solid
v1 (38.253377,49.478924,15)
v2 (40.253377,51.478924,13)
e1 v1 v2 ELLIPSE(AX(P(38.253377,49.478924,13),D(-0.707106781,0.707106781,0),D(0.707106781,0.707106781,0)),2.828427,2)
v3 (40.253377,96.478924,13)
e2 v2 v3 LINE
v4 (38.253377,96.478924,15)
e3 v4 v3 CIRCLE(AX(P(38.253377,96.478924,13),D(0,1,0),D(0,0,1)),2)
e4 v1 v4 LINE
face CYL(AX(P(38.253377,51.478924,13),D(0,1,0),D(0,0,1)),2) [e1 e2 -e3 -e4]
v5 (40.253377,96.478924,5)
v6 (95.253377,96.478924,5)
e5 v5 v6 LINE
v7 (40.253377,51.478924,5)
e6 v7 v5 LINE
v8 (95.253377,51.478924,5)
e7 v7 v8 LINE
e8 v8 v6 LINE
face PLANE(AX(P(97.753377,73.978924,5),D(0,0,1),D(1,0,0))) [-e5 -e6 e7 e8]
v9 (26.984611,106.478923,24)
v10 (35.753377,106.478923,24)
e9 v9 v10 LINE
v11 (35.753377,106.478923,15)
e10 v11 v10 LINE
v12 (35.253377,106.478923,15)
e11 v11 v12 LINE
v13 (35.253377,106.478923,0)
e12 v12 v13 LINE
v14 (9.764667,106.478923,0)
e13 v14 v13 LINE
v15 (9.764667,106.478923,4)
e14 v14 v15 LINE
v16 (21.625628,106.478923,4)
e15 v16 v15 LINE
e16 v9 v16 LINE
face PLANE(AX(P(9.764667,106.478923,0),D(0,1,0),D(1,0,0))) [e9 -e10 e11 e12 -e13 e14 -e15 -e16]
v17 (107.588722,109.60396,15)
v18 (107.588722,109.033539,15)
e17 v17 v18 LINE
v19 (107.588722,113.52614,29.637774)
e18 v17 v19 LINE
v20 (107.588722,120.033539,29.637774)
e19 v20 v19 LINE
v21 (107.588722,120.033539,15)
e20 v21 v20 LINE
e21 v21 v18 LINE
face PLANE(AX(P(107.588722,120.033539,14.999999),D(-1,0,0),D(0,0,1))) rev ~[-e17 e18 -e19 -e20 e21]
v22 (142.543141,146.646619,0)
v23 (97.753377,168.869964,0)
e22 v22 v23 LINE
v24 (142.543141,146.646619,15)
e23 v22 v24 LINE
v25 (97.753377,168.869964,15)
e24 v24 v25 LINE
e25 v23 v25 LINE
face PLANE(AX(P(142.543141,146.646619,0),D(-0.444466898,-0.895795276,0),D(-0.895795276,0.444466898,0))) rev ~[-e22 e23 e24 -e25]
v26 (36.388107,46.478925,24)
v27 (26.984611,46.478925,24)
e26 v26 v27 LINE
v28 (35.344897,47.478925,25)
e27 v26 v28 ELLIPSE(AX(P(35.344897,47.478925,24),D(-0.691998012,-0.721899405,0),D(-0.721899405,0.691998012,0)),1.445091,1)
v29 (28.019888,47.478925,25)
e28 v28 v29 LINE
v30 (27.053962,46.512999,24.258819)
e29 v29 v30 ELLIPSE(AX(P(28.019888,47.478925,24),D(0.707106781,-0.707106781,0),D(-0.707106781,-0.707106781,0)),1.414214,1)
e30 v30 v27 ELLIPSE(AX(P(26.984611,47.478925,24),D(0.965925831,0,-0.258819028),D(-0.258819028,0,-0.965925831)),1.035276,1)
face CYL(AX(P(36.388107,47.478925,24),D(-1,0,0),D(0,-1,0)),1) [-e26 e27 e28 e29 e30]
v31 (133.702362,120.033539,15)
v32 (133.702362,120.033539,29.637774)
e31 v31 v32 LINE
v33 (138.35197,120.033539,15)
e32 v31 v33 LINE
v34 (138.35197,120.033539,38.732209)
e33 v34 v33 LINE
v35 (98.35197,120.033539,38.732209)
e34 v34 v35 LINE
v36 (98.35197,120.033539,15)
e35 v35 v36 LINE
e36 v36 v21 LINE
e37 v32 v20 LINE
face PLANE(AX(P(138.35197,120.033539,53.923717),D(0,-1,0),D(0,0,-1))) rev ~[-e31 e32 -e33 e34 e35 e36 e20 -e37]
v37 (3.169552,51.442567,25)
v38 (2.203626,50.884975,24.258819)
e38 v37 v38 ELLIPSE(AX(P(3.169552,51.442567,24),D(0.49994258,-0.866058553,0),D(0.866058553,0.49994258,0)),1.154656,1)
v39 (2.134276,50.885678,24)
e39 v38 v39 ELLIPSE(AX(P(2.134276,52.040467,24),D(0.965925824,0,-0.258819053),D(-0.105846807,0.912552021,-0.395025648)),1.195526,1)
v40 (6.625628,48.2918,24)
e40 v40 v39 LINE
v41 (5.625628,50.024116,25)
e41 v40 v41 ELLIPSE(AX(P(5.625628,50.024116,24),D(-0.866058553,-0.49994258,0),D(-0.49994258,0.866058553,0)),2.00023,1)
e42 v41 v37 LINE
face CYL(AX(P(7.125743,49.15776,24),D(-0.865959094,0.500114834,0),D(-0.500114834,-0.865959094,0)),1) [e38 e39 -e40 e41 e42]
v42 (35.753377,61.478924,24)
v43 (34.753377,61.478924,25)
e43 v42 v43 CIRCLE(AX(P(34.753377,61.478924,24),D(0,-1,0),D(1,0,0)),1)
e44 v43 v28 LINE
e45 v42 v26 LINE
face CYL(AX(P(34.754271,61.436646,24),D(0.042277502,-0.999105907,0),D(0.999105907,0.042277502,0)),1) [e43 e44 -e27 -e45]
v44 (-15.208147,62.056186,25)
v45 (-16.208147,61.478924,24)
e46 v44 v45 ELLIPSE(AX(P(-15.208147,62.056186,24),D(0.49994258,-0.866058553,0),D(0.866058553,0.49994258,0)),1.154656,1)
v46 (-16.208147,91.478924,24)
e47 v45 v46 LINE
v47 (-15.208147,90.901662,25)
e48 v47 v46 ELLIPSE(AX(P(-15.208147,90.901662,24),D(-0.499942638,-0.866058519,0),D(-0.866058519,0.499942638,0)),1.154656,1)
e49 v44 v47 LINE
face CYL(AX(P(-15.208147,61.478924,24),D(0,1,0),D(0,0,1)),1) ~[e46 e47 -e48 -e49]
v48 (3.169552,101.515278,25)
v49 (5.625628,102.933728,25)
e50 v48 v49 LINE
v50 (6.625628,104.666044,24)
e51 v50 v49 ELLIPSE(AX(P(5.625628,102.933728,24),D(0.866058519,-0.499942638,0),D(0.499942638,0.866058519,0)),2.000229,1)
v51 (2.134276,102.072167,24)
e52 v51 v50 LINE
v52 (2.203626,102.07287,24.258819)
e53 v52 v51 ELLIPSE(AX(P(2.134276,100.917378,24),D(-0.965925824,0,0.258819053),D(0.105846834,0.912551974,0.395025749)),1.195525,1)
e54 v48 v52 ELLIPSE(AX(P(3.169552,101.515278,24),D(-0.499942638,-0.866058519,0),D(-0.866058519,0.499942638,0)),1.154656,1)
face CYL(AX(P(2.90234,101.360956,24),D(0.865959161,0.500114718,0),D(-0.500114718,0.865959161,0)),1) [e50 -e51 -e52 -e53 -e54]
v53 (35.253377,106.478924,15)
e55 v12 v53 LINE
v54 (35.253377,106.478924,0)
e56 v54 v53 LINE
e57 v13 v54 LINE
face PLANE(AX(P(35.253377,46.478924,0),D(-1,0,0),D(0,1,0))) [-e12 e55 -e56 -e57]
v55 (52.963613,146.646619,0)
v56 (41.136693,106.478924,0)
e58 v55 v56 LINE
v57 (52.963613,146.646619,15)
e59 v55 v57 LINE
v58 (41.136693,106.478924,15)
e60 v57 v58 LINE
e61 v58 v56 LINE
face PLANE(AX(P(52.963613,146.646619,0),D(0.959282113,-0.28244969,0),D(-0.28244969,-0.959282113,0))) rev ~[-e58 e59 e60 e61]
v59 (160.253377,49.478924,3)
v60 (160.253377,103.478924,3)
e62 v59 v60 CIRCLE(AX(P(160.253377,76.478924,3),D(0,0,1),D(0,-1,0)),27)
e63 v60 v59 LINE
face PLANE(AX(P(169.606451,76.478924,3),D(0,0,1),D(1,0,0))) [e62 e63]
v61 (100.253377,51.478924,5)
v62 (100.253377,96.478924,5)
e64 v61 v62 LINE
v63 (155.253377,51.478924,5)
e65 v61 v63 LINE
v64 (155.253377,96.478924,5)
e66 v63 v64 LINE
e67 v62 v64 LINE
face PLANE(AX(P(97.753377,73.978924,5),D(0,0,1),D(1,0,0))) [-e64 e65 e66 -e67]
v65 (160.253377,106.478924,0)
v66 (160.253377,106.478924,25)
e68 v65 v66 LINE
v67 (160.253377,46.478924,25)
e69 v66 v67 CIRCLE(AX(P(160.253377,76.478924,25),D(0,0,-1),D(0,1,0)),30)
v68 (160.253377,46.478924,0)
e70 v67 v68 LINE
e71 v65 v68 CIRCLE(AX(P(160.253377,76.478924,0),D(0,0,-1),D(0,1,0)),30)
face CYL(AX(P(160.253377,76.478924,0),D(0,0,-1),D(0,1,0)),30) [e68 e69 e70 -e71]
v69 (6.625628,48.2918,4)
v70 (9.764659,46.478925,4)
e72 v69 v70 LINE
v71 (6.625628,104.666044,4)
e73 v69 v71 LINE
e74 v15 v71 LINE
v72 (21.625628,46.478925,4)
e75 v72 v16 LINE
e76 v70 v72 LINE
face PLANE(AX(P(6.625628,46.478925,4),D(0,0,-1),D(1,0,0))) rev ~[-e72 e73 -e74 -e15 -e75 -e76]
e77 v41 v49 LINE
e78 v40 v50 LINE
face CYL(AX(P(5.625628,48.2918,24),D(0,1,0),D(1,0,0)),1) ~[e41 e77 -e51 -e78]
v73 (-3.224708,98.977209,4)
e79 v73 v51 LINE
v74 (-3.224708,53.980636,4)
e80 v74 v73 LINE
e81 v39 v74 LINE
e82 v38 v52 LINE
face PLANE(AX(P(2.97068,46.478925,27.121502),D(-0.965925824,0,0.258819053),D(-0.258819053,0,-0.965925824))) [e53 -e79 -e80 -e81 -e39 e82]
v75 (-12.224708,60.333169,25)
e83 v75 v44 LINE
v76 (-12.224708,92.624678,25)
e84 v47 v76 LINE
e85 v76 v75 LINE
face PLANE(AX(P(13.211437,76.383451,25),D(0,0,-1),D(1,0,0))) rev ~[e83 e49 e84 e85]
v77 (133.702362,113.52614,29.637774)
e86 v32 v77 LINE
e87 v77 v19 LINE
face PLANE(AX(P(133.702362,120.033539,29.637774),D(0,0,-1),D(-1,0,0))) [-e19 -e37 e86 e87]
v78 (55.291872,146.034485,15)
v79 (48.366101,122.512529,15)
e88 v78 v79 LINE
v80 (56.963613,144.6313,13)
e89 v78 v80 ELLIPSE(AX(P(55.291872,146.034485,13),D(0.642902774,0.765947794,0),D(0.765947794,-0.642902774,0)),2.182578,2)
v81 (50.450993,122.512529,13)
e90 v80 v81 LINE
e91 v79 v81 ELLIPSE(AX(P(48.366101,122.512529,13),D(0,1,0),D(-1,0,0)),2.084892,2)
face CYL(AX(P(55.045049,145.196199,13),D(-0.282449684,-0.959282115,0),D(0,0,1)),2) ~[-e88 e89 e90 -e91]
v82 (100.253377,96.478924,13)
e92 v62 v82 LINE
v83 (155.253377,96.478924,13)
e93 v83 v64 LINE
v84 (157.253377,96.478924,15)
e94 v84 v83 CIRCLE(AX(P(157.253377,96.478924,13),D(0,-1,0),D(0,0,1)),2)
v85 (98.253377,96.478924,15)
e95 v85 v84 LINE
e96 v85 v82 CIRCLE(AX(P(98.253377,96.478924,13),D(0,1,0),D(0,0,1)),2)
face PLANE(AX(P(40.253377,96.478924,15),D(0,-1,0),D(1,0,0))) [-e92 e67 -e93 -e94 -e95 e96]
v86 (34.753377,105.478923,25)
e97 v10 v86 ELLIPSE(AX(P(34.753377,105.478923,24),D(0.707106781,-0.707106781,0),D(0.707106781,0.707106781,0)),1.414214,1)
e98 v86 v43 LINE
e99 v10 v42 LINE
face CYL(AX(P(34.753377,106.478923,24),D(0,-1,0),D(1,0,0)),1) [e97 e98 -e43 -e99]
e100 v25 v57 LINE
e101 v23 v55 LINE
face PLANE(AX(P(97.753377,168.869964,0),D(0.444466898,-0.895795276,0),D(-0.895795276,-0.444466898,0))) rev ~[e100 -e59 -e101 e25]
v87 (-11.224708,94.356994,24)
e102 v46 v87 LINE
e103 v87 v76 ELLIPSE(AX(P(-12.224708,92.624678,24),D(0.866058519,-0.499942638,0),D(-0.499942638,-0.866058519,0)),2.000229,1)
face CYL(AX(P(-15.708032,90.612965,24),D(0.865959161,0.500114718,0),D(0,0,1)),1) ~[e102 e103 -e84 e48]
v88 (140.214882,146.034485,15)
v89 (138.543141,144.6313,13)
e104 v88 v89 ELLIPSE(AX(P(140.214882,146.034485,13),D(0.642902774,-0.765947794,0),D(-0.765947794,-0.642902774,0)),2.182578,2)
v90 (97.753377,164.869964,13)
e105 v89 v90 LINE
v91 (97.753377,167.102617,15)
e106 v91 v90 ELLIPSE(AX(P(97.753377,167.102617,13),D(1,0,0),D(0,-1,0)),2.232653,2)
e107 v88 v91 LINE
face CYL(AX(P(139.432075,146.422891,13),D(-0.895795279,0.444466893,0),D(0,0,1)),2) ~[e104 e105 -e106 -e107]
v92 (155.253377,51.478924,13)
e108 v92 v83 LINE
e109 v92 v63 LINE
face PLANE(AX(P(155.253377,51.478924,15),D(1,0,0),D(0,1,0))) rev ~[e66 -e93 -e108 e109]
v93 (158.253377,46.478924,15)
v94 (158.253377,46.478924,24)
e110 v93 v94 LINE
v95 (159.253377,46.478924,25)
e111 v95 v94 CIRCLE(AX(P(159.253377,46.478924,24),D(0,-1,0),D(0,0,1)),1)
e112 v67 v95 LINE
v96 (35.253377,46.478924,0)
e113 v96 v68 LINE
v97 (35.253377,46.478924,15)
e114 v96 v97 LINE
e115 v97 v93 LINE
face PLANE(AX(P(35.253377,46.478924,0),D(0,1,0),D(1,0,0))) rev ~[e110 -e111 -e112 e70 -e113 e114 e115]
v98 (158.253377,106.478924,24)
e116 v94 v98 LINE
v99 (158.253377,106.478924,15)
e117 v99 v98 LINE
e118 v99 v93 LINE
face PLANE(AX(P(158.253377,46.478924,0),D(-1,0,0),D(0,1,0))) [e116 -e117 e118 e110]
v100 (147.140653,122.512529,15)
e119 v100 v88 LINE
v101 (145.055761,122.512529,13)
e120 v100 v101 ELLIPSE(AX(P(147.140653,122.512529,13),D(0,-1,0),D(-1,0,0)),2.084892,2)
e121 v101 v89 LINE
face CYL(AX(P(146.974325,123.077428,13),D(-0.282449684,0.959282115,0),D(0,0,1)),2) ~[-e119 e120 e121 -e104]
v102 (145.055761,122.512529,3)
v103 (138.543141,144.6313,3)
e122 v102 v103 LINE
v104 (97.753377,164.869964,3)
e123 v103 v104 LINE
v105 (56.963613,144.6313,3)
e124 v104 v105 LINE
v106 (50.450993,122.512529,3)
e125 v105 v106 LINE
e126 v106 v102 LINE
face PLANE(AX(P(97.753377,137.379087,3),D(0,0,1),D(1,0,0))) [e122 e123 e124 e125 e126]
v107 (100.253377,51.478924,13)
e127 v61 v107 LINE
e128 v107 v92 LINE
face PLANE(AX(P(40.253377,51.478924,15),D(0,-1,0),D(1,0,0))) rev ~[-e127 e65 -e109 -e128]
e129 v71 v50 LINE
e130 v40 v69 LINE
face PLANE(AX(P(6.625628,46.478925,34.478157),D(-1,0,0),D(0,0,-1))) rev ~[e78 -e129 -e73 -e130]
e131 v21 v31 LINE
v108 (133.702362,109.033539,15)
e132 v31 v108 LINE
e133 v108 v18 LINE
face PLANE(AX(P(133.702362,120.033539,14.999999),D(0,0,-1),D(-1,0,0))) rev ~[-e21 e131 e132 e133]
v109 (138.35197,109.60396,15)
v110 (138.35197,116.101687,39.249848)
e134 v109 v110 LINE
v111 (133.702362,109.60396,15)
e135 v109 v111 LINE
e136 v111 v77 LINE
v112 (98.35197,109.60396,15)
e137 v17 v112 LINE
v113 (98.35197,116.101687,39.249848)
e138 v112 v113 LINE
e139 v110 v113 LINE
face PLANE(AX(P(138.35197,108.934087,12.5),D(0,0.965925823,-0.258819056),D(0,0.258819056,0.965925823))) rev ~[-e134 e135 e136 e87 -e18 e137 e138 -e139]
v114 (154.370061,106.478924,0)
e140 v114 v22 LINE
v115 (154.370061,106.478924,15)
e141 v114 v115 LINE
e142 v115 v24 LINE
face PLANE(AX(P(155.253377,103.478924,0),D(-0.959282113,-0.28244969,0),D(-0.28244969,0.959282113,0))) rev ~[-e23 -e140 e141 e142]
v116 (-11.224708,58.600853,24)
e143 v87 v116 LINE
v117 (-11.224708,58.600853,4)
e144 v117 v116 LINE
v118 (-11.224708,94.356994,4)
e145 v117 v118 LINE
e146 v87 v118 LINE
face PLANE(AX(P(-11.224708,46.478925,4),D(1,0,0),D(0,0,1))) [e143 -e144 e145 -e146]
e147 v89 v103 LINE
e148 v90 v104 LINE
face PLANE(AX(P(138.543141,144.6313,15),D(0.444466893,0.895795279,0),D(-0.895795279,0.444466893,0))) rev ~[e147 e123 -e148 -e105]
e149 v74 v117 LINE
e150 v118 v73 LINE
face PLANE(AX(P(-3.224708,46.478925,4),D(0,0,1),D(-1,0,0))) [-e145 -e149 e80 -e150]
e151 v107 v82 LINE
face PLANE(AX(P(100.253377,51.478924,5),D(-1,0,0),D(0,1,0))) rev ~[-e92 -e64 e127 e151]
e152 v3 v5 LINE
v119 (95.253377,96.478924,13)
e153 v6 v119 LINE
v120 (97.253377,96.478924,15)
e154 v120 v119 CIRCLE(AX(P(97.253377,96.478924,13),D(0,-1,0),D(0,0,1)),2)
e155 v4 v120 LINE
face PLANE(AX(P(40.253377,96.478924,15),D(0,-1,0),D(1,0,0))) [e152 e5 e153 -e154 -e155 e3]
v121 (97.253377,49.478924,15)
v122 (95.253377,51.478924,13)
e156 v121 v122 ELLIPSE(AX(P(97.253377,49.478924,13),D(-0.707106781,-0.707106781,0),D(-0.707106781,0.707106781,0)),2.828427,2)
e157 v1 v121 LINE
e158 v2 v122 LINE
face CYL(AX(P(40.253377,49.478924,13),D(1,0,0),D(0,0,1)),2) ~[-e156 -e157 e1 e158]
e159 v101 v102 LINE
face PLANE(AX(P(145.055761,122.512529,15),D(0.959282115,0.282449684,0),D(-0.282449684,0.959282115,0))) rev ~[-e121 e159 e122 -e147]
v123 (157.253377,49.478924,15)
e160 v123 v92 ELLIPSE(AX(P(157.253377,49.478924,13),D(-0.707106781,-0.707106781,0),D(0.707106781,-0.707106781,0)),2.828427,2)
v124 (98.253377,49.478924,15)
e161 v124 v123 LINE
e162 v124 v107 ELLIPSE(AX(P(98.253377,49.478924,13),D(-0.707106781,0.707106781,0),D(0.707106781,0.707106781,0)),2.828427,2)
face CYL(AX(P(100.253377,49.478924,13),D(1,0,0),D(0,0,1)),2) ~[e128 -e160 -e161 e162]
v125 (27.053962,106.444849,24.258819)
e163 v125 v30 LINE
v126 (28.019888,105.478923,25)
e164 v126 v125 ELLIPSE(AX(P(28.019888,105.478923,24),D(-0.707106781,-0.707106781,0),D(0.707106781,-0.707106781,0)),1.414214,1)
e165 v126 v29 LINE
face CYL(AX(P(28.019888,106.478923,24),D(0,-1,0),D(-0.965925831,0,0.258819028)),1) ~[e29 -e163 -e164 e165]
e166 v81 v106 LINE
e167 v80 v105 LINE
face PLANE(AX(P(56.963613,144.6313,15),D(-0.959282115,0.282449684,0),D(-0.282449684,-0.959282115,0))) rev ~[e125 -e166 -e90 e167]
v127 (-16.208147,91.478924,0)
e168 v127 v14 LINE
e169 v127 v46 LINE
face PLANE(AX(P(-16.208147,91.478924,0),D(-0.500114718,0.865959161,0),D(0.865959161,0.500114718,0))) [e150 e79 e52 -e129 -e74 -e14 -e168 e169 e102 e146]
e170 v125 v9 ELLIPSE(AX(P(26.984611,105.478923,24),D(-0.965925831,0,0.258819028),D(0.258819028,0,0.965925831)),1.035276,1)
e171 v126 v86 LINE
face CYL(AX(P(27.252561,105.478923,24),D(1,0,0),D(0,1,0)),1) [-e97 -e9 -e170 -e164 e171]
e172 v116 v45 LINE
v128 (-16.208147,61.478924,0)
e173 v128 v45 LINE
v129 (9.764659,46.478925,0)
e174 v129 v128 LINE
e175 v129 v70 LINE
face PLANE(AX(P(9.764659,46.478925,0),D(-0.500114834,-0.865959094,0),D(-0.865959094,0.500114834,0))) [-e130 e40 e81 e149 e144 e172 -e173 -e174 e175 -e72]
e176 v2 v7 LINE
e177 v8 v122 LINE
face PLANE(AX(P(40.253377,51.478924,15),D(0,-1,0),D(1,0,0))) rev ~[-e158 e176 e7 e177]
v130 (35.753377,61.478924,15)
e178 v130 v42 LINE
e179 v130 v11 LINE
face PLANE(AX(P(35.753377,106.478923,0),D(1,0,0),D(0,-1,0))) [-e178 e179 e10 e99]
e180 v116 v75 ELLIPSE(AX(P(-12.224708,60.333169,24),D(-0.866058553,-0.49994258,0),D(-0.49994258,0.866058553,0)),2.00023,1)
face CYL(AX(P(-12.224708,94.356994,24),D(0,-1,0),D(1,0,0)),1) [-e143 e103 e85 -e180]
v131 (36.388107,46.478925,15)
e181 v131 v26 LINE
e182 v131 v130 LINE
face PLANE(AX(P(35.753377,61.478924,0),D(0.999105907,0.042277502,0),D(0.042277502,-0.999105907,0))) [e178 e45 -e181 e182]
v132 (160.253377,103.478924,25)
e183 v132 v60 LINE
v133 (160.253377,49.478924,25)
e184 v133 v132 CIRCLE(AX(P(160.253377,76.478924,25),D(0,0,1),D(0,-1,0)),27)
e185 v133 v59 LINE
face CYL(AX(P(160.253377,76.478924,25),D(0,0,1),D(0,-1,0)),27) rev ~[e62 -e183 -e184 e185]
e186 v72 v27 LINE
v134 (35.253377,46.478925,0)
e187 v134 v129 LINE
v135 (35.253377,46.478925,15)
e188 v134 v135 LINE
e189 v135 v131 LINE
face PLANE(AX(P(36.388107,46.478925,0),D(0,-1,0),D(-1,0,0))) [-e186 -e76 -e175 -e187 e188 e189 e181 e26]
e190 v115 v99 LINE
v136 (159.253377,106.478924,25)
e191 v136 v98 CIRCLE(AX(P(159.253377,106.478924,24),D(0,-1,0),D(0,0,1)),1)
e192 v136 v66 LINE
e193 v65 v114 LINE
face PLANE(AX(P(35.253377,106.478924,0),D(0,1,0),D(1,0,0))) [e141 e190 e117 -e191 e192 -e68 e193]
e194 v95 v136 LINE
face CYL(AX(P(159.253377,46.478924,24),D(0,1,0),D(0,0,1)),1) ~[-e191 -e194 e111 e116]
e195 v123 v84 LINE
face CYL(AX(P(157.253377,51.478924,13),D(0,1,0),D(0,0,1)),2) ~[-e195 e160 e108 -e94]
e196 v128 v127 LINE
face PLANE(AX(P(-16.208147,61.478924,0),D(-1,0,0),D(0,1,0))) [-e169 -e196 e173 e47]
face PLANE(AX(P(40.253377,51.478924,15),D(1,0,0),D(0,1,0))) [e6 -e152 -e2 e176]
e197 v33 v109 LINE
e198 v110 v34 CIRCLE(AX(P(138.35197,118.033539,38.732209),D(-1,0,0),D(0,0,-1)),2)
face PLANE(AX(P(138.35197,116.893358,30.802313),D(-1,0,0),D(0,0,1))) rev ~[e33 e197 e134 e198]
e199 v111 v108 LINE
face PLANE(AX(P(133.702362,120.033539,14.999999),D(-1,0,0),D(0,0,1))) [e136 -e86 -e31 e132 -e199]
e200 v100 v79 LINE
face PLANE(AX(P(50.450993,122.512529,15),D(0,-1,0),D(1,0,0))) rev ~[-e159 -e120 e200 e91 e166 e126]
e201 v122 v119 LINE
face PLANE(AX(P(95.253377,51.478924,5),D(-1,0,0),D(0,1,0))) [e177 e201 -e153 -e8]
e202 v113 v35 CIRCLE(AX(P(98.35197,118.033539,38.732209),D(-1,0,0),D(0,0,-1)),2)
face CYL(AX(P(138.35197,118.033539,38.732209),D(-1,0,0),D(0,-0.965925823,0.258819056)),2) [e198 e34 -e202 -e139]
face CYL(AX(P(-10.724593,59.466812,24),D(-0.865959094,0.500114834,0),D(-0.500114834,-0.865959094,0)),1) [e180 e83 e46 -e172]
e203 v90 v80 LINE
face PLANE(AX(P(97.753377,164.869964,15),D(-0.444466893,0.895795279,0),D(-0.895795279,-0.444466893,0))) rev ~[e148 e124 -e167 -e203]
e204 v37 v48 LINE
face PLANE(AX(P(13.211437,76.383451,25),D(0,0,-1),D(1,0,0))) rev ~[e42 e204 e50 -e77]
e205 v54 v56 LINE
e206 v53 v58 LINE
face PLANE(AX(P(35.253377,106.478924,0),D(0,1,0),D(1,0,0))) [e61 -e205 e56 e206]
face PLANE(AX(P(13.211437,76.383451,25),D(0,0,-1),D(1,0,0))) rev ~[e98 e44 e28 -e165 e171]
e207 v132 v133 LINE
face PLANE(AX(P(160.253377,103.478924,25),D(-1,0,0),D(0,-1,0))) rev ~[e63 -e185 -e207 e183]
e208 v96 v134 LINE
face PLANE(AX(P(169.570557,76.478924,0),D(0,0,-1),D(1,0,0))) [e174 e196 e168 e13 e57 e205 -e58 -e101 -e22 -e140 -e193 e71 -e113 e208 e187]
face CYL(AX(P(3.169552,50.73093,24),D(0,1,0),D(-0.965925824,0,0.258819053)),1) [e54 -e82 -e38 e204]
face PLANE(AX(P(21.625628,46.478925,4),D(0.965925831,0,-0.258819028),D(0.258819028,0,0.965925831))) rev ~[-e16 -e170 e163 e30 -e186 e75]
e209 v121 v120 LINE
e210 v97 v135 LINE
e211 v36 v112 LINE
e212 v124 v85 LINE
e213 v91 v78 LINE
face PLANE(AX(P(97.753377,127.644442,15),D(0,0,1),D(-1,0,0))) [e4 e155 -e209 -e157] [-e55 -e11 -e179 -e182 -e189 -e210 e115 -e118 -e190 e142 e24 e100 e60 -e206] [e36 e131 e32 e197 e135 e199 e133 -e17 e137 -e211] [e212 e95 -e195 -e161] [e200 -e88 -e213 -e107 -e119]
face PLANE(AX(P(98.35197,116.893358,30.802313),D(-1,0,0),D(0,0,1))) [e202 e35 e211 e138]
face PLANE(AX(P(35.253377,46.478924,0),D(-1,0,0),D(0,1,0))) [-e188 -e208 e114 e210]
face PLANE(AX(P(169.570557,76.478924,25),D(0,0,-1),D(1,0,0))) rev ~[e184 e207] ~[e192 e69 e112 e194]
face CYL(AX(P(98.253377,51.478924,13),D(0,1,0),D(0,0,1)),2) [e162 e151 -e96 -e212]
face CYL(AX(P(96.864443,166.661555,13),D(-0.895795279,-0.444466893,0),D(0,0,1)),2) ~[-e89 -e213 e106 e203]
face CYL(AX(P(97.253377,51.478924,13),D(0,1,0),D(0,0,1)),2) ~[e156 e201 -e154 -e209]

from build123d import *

# Parameters (mm, degrees)
SKETCH008_W     = 125
SKETCH008_H     = 60
PAD007_DEPTH    = 15
SKETCH009_W     = 115
SKETCH009_H     = 45
POCKET001_DEPTH = 10
SKETCH010_W     = 5
SKETCH010_H     = 45
PAD008_DEPTH    = 10
PAD009_DEPTH    = 15
PAD010_DEPTH    = 25
POCKET002_DEPTH = 122.392039
POCKET003_DEPTH = 62
PAD011_DEPTH    = 25
POCKET004_DEPTH = 22
FILLET006_R     = 1
FILLET007_R     = 1
FILLET008_R     = 1
FILLET009_R     = 1
FILLET010_R     = 2
PAD012_DEPTH    = 40
SKETCH019_W     = 26.11364
SKETCH019_H     = 14.637775
POCKET005_DEPTH = 11
POCKET006_DEPTH = 12
FILLET011_R     = 2
FILLET012_R     = 2


with BuildPart() as part:
    # Sketch008 → Pad007 (new body)
    with BuildSketch(Plane.XY):
        with Locations((97.753377, 76.478924)):
            Rectangle(SKETCH008_W, SKETCH008_H)
    extrude(amount=PAD007_DEPTH)

    # Sketch009 (on Face6 of Pad007) → Pocket001 (cut)
    with BuildSketch(Plane.XY.offset(15)):
        with Locations((97.753377, 73.978924)):
            Rectangle(SKETCH009_W, SKETCH009_H)
    extrude(amount=-POCKET001_DEPTH, mode=Mode.SUBTRACT)

    # Sketch010 (on Face11 of Pocket001) → Pad008 (join)
    with BuildSketch(Plane.XY.offset(5)):
        with Locations((97.753377, 73.978924)):
            Rectangle(SKETCH010_W, SKETCH010_H)
    extrude(amount=PAD008_DEPTH)

    # Sketch011 (on Face4 of Pad008) → Pad009 (join)
    with BuildSketch(Plane(origin=(0, 0, 0), x_dir=(1, 0, 0), z_dir=(0, 0, -1))):
        Polygon((40.253377, -103.478924), (155.253377, -103.478924), (142.543141, -146.646619), (97.753377, -168.869964), (52.963613, -146.646619), align=None)
    extrude(amount=-PAD009_DEPTH)

    # Sketch012 (on Face10 of Pad009) → Pad010 (join)
    with BuildSketch(Plane(origin=(0, 0, 0), x_dir=(1, 0, 0), z_dir=(0, 0, -1))):
        Polygon((35.753377, -91.478924), (35.753377, -61.478924), (36.388107, -46.478925), (9.764659, -46.478925), (-16.208147, -61.478924), (-16.208147, -91.478924), (9.764667, -106.478923), (35.753377, -106.478923), align=None)
    extrude(amount=-PAD010_DEPTH)

    # Sketch014 (on Face12 of Pad010) → Pocket002 (cut, through all)
    with BuildSketch(Plane.XZ.offset(-46.478925)):
        Polygon((21.625628, 4), (31.014697, 39.040485), (16.014696, 39.040485), (6.625628, 34.478157), (6.625628, 4), align=None)
    extrude(amount=-POCKET002_DEPTH, mode=Mode.SUBTRACT)

    # Sketch015 (on Face8 of Pocket002) → Pocket003 (cut)
    with BuildSketch(Plane.XZ.offset(-46.478925)):
        Polygon((2.97068, 27.121502), (-3.224708, 4), (-11.224708, 4), (-11.224708, 27.121502), align=None)
    extrude(amount=-POCKET003_DEPTH, mode=Mode.SUBTRACT)

    # Sketch016 (on Face2 of Pocket003) → Pad011 (join)
    with BuildSketch(Plane(origin=(0, 0, 0), x_dir=(1, 0, 0), z_dir=(0, 0, -1))):
        with BuildLine():
            ThreePointArc((160.253377, -106.478924), (190.253377, -76.478924), (160.253377, -46.478924))
            Line((160.253377, -46.478924), (158.253377, -46.478924))
            Line((158.253377, -46.478924), (158.253377, -106.478924))
            Line((158.253377, -106.478924), (160.253377, -106.478924))
        make_face()
    extrude(amount=-PAD011_DEPTH)

    # Sketch017 (on Face34 of Pad011) → Pocket004 (cut)
    with BuildSketch(Plane.XY.offset(25)):
        with BuildLine():
            ThreePointArc((160.253377, 49.478924), (187.253377, 76.478924), (160.253377, 103.478924))
            Line((160.253377, 103.478924), (160.253377, 49.478924))
        make_face()
    extrude(amount=-POCKET004_DEPTH, mode=Mode.SUBTRACT)

    # Fillet006
    fillet006_edges = [part.edges().sort_by_distance(p)[0] for p in [
        (158.253377, 76.478924, 25),
    ]]
    fillet(fillet006_edges, radius=FILLET006_R)

    # Fillet007
    fillet007_edges = [part.edges().sort_by_distance(p)[0] for p in [
        (31.502969, 106.478923, 25),
        (27.252561, 76.478924, 25),
        (31.820334, 46.478925, 25),
        (36.070742, 53.978925, 25),
        (35.753377, 83.978924, 25),
    ]]
    fillet(fillet007_edges, radius=FILLET007_R)

    # Fillet008
    fillet008_edges = [part.edges().sort_by_distance(p)[0] for p in [
        (2.402225, 76.478922, 25),
        (4.513926, 49.511365, 25),
        (6.625628, 76.478922, 25),
        (4.513926, 103.446479, 25),
    ]]
    fillet(fillet008_edges, radius=FILLET008_R)

    # Fillet009
    fillet009_edges = [part.edges().sort_by_distance(p)[0] for p in [
        (-16.208147, 76.478924, 25),
        (-13.716428, 60.039889, 25),
        (-11.224708, 76.478924, 25),
        (-13.716428, 92.917959, 25),
    ]]
    fillet(fillet009_edges, radius=FILLET009_R)

    # Fillet010
    fillet010_edges = [part.edges().sort_by_distance(p)[0] for p in [
        (127.753377, 51.478924, 15),
        (155.253377, 73.978924, 15),
        (100.253377, 73.978924, 15),
        (95.253377, 73.978924, 15),
        (67.753377, 51.478924, 15),
        (40.253377, 73.978924, 15),
    ]]
    fillet(fillet010_edges, radius=FILLET010_R)

    # Sketch018 (on DatumPlane) → Pad012 (join)
    with BuildSketch(Plane(origin=(138.35197, 76.478924, 12.5), x_dir=(0, 0, -1), z_dir=(1, 0, 0))):
        Polygon((0, 32.455163), (-41.423717, 43.554615), (0, 43.554615), align=None)
    extrude(amount=-PAD012_DEPTH)

    # Sketch019 (on Face25 of Pad012) → Pocket005 (cut)
    with BuildSketch(Plane(origin=(0, 120.033539, 0), x_dir=(-1, 0, 0), z_dir=(0, 1, 0))):
        with Locations((-120.645542, 22.318887)):
            Rectangle(SKETCH019_W, SKETCH019_H)
    extrude(amount=-POCKET005_DEPTH, mode=Mode.SUBTRACT)

    # Sketch020 (on Face47 of Pocket005) → Pocket006 (cut)
    with BuildSketch(Plane.XY.offset(15)):
        Polygon((50.450993, 122.512529), (145.055761, 122.512529), (138.543141, 144.6313), (97.753377, 164.869964), (56.963613, 144.6313), align=None)
    extrude(amount=-POCKET006_DEPTH, mode=Mode.SUBTRACT)

    # Fillet011
    fillet011_edges = [part.edges().sort_by_distance(p)[0] for p in [
        (53.707303, 133.571915, 15),
        (77.358495, 154.750632, 15),
        (118.148259, 154.750632, 15),
        (141.799451, 133.571915, 15),
    ]]
    fillet(fillet011_edges, radius=FILLET011_R)

    # Fillet012
    fillet012_edges = [part.edges().sort_by_distance(p)[0] for p in [
        (118.35197, 120.033539, 53.923717),
    ]]
    fillet(fillet012_edges, radius=FILLET012_R)


solid = part.part
